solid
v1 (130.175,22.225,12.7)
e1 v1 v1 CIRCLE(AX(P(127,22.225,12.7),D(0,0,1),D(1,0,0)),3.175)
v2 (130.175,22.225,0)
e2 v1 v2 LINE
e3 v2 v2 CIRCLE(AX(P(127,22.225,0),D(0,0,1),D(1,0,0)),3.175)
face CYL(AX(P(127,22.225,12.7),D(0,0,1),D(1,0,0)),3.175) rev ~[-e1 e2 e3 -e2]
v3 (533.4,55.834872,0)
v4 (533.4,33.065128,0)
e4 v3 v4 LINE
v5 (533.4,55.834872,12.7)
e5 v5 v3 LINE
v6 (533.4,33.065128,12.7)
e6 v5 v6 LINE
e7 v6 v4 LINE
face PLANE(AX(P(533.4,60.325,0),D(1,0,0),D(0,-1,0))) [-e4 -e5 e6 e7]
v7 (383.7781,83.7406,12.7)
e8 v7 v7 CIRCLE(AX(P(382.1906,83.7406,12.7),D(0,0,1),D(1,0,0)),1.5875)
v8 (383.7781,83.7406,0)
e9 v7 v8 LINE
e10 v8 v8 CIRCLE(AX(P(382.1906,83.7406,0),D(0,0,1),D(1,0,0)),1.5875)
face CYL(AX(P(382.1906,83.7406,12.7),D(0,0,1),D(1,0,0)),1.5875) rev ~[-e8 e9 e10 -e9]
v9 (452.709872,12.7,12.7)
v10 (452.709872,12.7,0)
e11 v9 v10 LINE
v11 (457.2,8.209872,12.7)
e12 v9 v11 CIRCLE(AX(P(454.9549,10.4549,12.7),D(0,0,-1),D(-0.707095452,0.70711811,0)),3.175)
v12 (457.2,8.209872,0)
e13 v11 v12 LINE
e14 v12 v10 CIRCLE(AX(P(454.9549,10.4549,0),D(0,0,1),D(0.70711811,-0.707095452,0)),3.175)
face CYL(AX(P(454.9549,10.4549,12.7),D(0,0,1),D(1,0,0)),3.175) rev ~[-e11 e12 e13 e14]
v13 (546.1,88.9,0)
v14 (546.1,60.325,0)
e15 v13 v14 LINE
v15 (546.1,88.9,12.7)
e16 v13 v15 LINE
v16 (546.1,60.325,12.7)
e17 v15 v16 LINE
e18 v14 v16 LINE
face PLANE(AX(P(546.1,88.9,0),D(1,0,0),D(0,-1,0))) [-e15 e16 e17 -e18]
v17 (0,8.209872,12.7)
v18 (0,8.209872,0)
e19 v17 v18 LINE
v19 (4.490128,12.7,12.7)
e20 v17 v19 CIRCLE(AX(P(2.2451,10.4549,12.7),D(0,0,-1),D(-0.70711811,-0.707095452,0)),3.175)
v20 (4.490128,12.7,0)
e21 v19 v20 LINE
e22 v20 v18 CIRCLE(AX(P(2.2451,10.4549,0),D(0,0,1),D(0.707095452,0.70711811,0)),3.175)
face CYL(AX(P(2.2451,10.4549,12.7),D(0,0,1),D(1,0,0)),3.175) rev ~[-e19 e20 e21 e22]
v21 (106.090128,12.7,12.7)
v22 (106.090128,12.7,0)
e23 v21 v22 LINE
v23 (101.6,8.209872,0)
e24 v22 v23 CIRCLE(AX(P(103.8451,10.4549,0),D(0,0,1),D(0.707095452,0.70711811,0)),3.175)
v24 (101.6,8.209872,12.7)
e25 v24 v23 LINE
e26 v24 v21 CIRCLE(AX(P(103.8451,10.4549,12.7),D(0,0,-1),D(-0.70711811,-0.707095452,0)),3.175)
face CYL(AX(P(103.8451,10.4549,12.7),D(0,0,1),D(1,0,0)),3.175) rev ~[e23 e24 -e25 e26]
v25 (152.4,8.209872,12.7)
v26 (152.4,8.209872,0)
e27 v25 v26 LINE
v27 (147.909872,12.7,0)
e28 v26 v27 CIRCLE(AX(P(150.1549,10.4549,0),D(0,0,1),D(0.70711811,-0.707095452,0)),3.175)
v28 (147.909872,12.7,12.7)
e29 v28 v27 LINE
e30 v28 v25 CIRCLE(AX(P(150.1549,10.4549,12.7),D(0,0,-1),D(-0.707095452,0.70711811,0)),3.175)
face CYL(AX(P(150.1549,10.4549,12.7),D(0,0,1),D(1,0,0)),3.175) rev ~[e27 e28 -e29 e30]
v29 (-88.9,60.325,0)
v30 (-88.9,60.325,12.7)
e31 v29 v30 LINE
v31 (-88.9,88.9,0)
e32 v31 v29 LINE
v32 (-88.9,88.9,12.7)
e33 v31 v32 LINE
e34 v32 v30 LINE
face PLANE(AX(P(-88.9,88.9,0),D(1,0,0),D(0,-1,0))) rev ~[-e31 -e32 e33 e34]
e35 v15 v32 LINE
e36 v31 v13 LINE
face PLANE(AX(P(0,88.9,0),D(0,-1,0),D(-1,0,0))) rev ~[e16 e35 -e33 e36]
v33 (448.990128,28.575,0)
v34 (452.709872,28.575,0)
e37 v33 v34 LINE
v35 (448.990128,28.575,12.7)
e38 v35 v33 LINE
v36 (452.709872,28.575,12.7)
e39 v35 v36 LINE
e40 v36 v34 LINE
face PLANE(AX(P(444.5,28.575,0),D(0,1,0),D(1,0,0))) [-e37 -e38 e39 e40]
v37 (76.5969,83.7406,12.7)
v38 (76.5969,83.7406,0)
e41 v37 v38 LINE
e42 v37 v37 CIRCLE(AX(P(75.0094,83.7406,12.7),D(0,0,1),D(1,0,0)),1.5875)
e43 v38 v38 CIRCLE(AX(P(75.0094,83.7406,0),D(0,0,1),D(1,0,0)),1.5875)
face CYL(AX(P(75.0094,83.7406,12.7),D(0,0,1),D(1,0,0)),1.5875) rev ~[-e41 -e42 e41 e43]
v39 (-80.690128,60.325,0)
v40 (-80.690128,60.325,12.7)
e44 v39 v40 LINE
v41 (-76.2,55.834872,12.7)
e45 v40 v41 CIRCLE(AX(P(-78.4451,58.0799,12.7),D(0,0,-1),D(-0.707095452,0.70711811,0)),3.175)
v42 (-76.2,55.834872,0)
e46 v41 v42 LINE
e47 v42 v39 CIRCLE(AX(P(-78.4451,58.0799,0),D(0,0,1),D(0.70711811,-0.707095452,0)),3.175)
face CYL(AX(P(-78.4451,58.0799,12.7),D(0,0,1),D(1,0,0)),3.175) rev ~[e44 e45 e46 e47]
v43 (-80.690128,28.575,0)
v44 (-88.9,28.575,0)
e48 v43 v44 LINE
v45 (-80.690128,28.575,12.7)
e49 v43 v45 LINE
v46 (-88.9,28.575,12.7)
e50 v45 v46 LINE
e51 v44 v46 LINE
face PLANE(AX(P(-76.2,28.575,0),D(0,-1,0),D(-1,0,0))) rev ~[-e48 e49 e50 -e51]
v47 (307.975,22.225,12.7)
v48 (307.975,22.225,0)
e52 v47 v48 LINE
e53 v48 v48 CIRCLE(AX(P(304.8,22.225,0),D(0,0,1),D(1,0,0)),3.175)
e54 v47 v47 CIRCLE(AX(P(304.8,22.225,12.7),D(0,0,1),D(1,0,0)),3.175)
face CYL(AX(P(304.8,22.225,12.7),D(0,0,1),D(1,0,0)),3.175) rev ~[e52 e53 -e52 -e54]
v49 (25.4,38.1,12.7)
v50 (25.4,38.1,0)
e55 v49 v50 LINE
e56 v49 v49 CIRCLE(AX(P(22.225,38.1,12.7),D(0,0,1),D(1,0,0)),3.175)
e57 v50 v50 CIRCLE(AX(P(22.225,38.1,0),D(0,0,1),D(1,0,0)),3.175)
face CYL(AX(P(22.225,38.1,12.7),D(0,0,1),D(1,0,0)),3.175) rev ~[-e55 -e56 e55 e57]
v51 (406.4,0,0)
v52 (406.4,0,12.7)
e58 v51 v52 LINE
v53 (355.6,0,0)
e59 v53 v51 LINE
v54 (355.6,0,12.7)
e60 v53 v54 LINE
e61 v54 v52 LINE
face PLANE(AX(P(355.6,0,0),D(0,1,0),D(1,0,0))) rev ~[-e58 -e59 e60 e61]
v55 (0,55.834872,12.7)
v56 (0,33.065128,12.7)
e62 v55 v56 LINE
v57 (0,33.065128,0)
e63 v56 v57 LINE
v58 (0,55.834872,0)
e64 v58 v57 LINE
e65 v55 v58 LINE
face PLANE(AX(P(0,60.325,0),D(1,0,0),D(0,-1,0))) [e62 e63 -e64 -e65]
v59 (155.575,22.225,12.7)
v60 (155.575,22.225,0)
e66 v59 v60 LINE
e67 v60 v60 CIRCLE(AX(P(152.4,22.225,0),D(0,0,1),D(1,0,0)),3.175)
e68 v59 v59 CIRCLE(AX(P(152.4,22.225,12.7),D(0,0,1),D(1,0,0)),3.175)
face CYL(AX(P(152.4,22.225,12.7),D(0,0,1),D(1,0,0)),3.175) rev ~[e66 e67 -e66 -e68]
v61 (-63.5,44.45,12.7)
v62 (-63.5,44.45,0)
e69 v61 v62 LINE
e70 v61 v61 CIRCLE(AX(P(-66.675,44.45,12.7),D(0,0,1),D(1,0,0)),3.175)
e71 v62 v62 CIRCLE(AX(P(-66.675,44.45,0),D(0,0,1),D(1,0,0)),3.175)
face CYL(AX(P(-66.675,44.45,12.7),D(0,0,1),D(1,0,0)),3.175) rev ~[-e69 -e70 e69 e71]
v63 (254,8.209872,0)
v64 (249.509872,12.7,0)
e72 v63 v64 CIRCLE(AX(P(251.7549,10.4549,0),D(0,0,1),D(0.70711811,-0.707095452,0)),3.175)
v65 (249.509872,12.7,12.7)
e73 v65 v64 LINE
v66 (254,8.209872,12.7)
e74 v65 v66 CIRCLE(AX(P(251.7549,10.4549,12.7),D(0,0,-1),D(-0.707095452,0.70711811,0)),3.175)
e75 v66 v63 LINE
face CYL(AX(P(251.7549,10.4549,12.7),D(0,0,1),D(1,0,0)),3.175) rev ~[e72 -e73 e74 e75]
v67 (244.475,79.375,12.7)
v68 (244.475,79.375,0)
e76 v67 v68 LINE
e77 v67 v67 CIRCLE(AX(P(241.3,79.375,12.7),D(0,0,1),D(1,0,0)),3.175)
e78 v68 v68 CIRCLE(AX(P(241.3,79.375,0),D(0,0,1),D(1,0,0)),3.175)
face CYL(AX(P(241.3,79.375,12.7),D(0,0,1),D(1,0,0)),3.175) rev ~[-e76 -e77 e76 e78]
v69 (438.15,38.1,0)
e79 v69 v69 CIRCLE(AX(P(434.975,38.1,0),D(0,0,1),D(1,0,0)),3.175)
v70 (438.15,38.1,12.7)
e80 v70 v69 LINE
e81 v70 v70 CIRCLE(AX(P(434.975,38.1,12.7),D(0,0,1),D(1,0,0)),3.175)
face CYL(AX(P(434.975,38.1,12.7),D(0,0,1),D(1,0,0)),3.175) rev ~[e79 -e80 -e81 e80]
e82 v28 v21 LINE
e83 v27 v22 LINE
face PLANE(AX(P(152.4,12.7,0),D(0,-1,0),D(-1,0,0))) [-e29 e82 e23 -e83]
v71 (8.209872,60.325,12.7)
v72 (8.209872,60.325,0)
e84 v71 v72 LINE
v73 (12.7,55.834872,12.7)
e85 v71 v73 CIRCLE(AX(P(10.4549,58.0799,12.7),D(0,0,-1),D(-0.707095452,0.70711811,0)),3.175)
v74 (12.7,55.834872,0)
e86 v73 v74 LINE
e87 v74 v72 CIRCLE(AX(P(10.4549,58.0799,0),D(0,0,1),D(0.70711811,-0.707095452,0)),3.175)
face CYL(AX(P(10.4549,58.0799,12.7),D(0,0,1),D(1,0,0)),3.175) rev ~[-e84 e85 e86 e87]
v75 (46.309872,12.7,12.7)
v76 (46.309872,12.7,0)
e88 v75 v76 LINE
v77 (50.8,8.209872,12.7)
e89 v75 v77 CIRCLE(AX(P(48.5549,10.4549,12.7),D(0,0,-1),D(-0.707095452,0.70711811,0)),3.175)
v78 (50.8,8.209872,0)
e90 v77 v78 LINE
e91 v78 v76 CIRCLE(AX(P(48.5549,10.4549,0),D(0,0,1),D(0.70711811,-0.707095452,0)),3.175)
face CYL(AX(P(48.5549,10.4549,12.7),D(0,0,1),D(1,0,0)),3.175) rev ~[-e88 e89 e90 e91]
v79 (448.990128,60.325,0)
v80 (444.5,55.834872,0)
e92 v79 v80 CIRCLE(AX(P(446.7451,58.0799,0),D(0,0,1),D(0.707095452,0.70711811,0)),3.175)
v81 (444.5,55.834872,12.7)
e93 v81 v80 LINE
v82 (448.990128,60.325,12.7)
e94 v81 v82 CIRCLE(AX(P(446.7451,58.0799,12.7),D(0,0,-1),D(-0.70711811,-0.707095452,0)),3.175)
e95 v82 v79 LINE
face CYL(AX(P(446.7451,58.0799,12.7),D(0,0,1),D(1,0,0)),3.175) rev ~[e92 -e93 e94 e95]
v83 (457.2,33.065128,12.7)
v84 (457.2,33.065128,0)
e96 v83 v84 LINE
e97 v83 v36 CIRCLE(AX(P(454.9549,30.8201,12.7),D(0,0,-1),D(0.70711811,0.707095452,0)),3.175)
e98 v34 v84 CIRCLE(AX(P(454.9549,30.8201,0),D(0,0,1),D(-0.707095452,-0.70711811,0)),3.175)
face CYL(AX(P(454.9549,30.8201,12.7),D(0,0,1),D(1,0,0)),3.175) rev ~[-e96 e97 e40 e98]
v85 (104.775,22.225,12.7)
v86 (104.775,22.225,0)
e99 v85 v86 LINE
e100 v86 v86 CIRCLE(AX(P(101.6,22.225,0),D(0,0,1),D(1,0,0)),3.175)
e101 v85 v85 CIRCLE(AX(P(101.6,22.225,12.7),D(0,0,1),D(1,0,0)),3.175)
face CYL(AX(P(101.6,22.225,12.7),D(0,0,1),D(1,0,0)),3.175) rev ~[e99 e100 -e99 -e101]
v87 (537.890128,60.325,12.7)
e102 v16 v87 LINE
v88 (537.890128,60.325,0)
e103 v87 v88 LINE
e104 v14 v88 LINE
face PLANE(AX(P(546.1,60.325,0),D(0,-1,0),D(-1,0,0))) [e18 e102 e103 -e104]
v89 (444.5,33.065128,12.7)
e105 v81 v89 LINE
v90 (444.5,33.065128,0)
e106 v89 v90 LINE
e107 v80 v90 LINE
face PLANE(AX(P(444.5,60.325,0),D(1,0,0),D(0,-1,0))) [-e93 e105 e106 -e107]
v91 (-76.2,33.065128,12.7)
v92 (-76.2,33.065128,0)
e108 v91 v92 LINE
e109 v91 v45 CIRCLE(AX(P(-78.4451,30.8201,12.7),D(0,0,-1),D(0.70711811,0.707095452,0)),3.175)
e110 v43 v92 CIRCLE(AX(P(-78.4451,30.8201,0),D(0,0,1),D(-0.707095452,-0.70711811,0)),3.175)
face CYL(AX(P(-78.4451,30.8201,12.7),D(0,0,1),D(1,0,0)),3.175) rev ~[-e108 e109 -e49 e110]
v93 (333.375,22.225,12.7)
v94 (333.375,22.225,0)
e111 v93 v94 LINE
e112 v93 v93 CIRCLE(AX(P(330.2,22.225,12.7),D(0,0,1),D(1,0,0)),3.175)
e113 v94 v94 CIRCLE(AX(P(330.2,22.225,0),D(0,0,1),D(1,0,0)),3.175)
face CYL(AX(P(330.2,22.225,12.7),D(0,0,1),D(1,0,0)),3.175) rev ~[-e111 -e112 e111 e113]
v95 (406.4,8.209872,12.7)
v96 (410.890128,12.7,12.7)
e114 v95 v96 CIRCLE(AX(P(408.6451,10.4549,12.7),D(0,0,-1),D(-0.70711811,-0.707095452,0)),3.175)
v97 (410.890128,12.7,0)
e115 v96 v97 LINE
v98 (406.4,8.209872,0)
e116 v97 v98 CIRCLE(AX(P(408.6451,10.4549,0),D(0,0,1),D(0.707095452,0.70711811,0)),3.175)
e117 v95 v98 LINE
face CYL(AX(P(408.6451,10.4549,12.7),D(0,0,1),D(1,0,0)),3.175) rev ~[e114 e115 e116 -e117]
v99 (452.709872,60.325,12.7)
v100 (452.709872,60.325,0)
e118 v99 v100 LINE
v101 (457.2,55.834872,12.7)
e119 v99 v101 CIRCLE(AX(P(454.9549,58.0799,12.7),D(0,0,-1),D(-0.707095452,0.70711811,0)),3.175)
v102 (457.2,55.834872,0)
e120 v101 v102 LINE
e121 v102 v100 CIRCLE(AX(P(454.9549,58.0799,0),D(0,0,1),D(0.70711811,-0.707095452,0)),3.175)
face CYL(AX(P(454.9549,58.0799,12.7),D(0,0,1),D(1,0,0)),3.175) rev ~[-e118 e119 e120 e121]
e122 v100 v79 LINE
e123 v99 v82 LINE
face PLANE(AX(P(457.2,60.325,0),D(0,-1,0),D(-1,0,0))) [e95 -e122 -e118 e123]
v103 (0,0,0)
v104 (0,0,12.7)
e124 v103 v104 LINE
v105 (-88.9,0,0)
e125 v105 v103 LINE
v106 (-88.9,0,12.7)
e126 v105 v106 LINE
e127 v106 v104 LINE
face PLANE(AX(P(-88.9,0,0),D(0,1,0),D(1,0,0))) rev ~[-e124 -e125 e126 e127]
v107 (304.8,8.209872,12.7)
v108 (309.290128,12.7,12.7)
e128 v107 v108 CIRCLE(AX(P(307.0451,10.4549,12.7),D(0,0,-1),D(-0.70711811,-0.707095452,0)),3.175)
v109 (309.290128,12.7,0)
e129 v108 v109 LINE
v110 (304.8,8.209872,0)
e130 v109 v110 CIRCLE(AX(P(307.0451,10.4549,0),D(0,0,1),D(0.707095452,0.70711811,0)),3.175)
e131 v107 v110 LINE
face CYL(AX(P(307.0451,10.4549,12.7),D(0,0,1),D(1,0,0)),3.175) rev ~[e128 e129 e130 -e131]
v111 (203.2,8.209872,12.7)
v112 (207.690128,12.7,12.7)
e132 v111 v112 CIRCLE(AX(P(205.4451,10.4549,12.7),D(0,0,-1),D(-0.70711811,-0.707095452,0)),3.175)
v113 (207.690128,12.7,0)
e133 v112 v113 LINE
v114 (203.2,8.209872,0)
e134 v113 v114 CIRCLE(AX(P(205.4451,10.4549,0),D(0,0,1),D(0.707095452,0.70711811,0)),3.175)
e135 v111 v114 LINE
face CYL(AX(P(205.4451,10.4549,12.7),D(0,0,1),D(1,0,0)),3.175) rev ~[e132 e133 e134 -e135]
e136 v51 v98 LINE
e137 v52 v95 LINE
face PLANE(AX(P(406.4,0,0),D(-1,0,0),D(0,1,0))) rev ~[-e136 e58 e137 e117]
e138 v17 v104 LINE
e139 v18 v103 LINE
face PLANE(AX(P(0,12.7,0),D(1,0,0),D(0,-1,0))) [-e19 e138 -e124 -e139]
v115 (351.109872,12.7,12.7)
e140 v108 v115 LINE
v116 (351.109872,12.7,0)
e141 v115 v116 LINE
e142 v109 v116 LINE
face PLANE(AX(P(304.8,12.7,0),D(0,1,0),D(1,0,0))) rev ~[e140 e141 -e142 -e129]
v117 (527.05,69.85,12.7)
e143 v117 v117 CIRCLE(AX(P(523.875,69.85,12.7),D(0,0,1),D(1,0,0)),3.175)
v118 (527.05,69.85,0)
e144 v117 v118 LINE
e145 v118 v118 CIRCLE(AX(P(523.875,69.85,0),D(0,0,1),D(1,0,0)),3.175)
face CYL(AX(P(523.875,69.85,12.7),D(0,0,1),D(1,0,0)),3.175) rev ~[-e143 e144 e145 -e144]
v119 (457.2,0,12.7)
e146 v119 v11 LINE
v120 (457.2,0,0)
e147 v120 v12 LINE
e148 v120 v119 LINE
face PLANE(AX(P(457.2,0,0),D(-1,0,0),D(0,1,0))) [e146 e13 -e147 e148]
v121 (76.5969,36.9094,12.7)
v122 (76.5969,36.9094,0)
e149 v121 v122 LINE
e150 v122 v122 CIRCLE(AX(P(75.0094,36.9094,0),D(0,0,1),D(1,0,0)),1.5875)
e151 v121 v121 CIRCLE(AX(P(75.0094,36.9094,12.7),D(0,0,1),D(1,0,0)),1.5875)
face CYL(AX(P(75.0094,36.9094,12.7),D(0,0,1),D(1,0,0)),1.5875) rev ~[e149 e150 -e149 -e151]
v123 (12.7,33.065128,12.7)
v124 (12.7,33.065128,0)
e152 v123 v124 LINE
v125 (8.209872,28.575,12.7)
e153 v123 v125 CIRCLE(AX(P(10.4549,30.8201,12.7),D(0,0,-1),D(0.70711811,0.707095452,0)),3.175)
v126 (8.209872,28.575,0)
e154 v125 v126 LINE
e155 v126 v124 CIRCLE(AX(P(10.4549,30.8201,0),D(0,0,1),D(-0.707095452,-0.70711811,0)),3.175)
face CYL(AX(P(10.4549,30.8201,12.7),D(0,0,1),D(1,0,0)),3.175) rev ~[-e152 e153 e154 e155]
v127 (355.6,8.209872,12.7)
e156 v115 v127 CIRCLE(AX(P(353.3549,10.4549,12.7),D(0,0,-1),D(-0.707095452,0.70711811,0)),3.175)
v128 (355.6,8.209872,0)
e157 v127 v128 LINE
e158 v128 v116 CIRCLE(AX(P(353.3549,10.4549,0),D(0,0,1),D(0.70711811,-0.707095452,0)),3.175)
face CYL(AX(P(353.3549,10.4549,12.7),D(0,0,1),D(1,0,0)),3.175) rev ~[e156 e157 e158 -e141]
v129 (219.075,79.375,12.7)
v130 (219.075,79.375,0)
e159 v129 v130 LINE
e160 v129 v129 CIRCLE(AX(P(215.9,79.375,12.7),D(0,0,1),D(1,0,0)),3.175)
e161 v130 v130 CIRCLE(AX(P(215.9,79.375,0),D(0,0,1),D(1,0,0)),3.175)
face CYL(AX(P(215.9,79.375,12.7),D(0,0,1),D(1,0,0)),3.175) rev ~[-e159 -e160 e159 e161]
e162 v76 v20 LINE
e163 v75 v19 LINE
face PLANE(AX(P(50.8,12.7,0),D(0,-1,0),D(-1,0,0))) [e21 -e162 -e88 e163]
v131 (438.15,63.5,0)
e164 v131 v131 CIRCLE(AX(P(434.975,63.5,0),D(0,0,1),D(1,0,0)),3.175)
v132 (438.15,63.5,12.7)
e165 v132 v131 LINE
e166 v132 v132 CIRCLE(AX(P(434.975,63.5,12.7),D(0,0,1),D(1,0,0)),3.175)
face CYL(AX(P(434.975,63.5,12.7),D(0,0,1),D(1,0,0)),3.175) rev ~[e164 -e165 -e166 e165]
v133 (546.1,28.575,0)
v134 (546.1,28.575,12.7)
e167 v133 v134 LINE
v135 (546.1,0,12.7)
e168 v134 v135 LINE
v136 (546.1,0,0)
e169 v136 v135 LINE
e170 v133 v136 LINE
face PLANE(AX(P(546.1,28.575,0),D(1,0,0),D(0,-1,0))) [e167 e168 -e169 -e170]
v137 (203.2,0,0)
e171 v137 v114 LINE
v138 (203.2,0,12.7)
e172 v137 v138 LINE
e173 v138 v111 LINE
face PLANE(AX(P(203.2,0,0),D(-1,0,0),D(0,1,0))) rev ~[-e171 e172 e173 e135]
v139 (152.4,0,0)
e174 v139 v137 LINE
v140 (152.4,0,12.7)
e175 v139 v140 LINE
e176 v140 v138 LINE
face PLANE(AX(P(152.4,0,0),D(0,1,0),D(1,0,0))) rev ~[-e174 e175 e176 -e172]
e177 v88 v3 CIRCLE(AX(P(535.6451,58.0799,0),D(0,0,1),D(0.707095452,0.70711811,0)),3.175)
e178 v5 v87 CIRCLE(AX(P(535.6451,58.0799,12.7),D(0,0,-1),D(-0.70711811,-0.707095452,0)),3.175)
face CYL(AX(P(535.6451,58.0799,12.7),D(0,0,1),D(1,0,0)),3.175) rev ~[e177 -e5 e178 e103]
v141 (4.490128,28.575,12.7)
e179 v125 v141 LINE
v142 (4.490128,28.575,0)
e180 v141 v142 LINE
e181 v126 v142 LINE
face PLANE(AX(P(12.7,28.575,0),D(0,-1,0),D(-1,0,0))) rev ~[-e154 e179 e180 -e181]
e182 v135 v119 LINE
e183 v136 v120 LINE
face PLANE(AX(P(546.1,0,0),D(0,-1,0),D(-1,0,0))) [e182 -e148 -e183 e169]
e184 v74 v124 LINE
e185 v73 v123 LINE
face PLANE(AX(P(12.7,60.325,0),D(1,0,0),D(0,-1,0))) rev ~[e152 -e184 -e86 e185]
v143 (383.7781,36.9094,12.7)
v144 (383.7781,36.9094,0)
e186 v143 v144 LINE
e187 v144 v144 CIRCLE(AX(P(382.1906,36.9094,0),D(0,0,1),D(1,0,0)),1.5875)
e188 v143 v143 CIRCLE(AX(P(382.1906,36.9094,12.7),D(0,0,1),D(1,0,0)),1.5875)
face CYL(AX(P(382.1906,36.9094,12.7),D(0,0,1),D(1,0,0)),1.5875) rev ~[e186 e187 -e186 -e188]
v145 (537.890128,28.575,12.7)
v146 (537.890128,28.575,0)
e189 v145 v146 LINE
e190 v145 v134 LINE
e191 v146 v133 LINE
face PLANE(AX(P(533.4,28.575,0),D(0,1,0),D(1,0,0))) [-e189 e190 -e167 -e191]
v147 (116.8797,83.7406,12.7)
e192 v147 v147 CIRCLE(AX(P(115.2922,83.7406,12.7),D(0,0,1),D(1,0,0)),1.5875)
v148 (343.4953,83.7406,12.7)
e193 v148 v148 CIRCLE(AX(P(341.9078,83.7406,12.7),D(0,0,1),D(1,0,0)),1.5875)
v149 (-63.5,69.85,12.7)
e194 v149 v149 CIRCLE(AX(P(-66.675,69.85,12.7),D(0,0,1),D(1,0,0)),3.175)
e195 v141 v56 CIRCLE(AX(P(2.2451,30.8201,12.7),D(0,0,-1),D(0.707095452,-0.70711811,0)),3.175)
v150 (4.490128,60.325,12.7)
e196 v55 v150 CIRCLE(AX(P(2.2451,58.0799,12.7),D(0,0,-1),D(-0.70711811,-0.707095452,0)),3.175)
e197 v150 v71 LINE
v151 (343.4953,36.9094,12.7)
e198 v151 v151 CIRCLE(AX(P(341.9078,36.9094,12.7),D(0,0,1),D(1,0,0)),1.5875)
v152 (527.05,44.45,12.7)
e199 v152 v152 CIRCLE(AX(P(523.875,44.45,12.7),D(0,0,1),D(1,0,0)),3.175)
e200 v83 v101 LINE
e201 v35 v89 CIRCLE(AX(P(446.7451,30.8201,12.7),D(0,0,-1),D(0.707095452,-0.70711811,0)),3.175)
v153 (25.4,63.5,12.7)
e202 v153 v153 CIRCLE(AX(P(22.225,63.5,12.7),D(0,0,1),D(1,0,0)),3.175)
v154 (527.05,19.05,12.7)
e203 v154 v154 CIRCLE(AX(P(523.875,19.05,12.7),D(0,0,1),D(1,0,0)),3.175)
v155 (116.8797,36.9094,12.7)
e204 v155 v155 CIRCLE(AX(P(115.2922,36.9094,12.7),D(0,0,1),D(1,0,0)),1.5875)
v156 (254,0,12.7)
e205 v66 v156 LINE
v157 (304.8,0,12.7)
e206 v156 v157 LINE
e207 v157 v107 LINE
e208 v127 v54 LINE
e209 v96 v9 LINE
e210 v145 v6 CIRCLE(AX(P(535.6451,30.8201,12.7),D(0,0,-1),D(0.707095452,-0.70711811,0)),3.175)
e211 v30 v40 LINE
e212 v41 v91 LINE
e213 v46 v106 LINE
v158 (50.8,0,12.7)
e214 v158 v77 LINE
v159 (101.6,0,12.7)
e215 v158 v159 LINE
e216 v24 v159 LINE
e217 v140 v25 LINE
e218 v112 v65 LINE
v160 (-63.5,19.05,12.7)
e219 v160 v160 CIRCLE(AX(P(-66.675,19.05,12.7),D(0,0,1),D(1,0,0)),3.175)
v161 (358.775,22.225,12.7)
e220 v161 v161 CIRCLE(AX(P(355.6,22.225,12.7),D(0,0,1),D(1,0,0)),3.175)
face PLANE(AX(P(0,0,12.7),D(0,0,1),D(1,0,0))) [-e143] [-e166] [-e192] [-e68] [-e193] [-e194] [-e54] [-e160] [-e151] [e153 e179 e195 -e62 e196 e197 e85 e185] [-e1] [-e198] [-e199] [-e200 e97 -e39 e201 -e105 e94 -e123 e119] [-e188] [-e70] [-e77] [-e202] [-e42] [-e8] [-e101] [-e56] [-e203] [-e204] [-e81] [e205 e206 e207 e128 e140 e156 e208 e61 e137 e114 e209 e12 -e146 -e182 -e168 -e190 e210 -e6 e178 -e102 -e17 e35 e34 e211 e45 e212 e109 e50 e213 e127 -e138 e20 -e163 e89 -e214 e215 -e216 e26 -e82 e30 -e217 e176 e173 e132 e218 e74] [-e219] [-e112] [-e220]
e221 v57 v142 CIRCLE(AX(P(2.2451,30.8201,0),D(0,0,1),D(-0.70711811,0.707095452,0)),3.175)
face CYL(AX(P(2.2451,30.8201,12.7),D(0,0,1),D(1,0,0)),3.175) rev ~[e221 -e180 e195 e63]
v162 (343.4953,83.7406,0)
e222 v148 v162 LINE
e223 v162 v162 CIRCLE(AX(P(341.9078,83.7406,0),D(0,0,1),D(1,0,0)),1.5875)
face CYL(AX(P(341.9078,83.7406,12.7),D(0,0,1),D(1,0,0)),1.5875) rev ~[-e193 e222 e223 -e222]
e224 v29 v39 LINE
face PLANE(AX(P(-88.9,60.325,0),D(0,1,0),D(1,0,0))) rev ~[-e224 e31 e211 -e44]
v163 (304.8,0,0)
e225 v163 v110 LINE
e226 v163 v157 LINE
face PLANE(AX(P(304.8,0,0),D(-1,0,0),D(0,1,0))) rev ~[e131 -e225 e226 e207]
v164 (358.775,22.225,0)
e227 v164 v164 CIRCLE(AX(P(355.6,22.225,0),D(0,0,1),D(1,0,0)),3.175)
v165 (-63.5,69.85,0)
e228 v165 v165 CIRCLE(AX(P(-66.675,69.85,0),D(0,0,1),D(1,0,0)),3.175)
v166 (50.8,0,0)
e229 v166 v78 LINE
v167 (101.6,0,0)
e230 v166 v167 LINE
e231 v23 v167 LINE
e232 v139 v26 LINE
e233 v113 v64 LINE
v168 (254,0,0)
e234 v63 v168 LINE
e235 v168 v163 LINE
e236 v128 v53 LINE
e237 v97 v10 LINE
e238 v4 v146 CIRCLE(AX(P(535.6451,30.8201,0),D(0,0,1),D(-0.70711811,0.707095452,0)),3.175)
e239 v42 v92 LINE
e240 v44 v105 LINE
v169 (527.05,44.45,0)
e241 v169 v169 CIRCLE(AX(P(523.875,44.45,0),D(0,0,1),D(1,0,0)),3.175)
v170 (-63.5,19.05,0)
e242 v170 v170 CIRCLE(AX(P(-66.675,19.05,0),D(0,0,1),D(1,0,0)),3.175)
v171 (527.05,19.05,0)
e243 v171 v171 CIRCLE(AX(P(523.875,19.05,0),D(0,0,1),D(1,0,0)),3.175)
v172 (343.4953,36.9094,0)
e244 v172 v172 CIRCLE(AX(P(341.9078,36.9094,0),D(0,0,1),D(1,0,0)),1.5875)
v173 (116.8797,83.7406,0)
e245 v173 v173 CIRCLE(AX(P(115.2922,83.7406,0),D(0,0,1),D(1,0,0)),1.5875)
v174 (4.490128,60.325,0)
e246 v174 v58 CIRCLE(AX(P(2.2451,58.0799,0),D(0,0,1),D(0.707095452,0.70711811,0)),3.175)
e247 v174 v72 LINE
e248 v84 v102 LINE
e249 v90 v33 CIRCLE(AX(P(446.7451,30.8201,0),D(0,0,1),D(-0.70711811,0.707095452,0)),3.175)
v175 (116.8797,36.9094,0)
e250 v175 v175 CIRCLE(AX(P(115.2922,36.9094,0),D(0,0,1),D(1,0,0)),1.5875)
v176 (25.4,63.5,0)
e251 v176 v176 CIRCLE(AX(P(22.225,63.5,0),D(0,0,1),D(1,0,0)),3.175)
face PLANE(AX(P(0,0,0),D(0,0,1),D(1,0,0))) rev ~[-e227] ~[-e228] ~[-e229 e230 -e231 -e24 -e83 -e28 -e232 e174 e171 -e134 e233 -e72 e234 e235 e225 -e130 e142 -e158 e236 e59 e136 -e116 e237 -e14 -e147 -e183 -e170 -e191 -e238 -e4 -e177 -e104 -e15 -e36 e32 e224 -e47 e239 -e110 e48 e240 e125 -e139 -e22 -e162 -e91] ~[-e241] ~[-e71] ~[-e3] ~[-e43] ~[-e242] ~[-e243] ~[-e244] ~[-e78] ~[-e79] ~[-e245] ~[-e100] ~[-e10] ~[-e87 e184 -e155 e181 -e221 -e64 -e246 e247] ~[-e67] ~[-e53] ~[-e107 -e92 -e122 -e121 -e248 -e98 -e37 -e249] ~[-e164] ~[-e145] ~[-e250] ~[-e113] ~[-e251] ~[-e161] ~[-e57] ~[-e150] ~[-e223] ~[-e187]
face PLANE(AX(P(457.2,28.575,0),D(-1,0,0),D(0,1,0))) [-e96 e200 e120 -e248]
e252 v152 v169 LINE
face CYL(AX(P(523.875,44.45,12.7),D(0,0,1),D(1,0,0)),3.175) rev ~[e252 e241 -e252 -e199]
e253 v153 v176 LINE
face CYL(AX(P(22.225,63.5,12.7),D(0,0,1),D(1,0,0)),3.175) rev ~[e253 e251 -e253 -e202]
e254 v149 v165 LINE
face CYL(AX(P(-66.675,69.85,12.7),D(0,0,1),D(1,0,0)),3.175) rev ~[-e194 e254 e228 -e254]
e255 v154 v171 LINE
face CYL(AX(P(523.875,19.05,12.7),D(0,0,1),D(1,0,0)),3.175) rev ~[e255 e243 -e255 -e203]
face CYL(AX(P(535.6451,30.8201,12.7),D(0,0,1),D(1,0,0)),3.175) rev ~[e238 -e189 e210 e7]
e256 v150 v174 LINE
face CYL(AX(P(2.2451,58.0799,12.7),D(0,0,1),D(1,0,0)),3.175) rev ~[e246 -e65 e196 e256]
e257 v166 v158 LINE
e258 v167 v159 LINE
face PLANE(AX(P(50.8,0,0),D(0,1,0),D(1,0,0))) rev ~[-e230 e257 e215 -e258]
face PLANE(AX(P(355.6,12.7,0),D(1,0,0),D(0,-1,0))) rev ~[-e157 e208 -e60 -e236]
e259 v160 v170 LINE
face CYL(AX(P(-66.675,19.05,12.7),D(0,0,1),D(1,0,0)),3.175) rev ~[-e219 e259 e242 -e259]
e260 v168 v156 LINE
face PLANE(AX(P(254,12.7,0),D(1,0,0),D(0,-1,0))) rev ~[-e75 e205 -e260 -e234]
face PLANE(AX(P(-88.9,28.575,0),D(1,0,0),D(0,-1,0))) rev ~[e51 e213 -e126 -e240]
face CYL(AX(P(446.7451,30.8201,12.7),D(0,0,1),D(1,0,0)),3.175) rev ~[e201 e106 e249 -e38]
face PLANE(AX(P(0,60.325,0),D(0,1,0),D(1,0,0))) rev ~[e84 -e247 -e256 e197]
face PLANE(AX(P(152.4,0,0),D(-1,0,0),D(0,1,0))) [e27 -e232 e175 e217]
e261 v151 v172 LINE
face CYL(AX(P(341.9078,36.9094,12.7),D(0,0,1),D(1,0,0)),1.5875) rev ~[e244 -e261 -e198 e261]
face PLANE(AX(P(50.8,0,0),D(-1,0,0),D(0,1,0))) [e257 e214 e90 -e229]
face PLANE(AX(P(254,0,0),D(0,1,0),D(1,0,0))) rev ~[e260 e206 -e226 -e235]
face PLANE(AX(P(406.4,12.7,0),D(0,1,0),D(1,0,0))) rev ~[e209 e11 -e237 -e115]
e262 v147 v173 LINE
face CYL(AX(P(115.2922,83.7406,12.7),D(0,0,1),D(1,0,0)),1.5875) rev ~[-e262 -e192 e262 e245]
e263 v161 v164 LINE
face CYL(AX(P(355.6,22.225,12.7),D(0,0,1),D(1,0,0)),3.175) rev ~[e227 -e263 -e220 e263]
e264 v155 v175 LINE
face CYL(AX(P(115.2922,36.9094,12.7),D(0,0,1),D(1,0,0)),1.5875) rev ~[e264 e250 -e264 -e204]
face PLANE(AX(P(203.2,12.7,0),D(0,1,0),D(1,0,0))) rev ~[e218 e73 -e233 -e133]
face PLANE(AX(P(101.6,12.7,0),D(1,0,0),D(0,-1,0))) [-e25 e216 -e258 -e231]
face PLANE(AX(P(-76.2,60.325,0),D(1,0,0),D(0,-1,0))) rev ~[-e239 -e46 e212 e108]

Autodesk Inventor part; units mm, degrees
ref_plane "YZ Plane" through (0, 0, 0) normal (1, 0, 0) x (0, 1, 0)
ref_plane "XZ Plane" through (0, 0, 0) normal (0, 1, 0) x (-1, 0, 0)
ref_plane "XY Plane" through (0, 0, 0) normal (0, 0, 1) x (1, 0, 0)
sketch "Sketch1" plane through (0, 0, 0) normal (0, 0, 1) x (1, 0, 0)
  line L0 (0, 0) -> (457.2, 0)
  line L1 (457.2, 0) -> (457.2, 88.9)
  line L2 (457.2, 88.9) -> (0, 88.9)
  line L3 (0, 88.9) -> (0, 0)
  line L4 (0, 0) -> (50.8, 0)
  line L5 (50.8, 0) -> (50.8, 12.7)
  line L6 (50.8, 12.7) -> (0, 12.7)
  line L7 (0, 12.7) -> (0, 0)
  line L8 (457.2, 0) -> (406.4, 0)
  line L9 (406.4, 0) -> (406.4, 12.7)
  line L10 (406.4, 12.7) -> (457.2, 12.7)
  line L11 (457.2, 12.7) -> (457.2, 0)
  line L12 (101.6, 0) -> (152.4, 0)
  line L13 (152.4, 0) -> (152.4, 12.7)
  line L14 (152.4, 12.7) -> (101.6, 12.7)
  line L15 (101.6, 12.7) -> (101.6, 0)
  line L16 (355.6, 0) -> (304.8, 0)
  line L17 (304.8, 0) -> (304.8, 12.7)
  line L18 (304.8, 12.7) -> (355.6, 12.7)
  line L19 (355.6, 12.7) -> (355.6, 0)
  line L20 (254, 0) -> (203.2, 0)
  line L21 (203.2, 0) -> (203.2, 12.7)
  line L22 (203.2, 12.7) -> (254, 12.7)
  line L23 (254, 12.7) -> (254, 0)
  line L24 (0, 60.325) -> (12.7, 60.325)
  line L25 (12.7, 60.325) -> (12.7, 28.575)
  line L26 (12.7, 28.575) -> (0, 28.575)
  line L27 (0, 28.575) -> (0, 60.325)
  line L28 (457.2, 60.325) -> (444.5, 60.325)
  line L29 (444.5, 60.325) -> (444.5, 28.575)
  line L30 (444.5, 28.575) -> (457.2, 28.575)
  line L31 (457.2, 28.575) -> (457.2, 60.325)
  line L32 (0, 88.9) -> (-88.9, 88.9)
  line L33 (-88.9, 88.9) -> (-88.9, 0)
  line L34 (-88.9, 0) -> (0, 0)
  line L35 (0, 0) -> (0, 88.9)
  line L36 (-88.9, 60.325) -> (-76.2, 60.325)
  line L37 (-76.2, 60.325) -> (-76.2, 28.575)
  line L38 (-76.2, 28.575) -> (-88.9, 28.575)
  line L39 (-88.9, 28.575) -> (-88.9, 60.325)
  line L40 (457.2, 88.9) -> (546.1, 88.9)
  line L41 (546.1, 88.9) -> (546.1, 0)
  line L42 (546.1, 0) -> (457.2, 0)
  line L43 (457.2, 0) -> (457.2, 88.9)
  line L44 (546.1, 60.325) -> (533.4, 60.325)
  line L45 (533.4, 60.325) -> (533.4, 28.575)
  line L46 (533.4, 28.575) -> (546.1, 28.575)
  line L47 (546.1, 28.575) -> (546.1, 60.325)
  point P0 (0, 28.575)
  dimension "d0" = 457.2
  dimension "d1" = 88.9
  dimension "d2" = 50.8
  dimension "d3" = 12.7
  dimension "d4" = 50.8
  dimension "d5" = 12.7
  dimension "d6" = 50.8
  dimension "d7" = 12.7
  dimension "d8" = 50.8
  dimension "d9" = 50.8
  dimension "d10" = 12.7
  dimension "d11" = 50.8
  dimension "d12" = 50.8
  dimension "d13" = 12.7
  dimension "d14" = 50.8
  dimension "d15" = 12.7
  dimension "d16" = 15.875
  dimension "d17" = 28.575
  dimension "d18" = 12.7
  dimension "d19" = 28.575
  dimension "d20" = 15.875
  dimension "d21" = 88.9
  dimension "d22" = 12.7
  dimension "d23" = 28.575
  dimension "d24" = 31.75
  dimension "d25" = 88.9
  dimension "d26" = 12.7
  dimension "d27" = 28.575
  dimension "d28" = 31.75
extrude "Extrusion1" add sketch "Sketch1" along normal blind 12.7 contours L34 L33 L38 L37 L36 L32 L3 | L5 L6 L3 L26 L25 L24 L2 L1 L28 L29 L30 L10 L9 L0 L19 L18 L17 L23 L22 L21 L13 L14 L15 | L40 L41 L44 L45 L46 L42 L1
sketch "Sketch2" plane through (0, 0, 12.7) normal (0, 0, 1) x (1, 0, 0)
  line L0 (-76.2, 60.325) -> (-76.2, 28.575) projected
  line L1 (-76.2, 60.325) -> (-78.4451, 58.0799)
  line L2 (-76.2, 28.575) -> (-78.4451, 30.8201)
  line L3 (0, 28.575) -> (0, 60.325) projected
  line L4 (0, 60.325) -> (2.2451, 58.0799)
  line L5 (0, 60.325) -> (12.7, 60.325) projected
  line L6 (12.7, 60.325) -> (10.4549, 58.0799)
  line L7 (12.7, 60.325) -> (12.7, 28.575) projected
  line L8 (12.7, 28.575) -> (0, 28.575) projected
  line L9 (0, 28.575) -> (2.2451, 30.8201)
  line L10 (12.7, 60.325) -> (12.7, 28.575) projected
  line L11 (12.7, 28.575) -> (10.4549, 30.8201)
  line L12 (0, 0) -> (0, 12.7) projected
  line L13 (0, 12.7) -> (2.2451, 10.4549)
  line L14 (0, 12.7) -> (50.8, 12.7) projected
  line L15 (50.8, 12.7) -> (50.8, 0) projected
  line L16 (50.8, 12.7) -> (48.5549, 10.4549)
  line L17 (101.6, 0) -> (101.6, 12.7) projected
  line L18 (101.6, 12.7) -> (103.8451, 10.4549)
  line L19 (101.6, 12.7) -> (152.4, 12.7) projected
  line L20 (152.4, 12.7) -> (152.4, 0) projected
  line L21 (152.4, 12.7) -> (150.1549, 10.4549)
  line L22 (203.2, 0) -> (203.2, 12.7) projected
  line L23 (203.2, 12.7) -> (205.4451, 10.4549)
  line L24 (203.2, 12.7) -> (254, 12.7) projected
  line L25 (254, 12.7) -> (254, 0) projected
  line L26 (254, 12.7) -> (251.7549, 10.4549)
  line L27 (304.8, 0) -> (304.8, 12.7) projected
  line L28 (304.8, 12.7) -> (307.0451, 10.4549)
  line L29 (304.8, 12.7) -> (355.6, 12.7) projected
  line L30 (355.6, 12.7) -> (355.6, 0) projected
  line L31 (355.6, 12.7) -> (353.3549, 10.4549)
  line L32 (406.4, 0) -> (406.4, 12.7) projected
  line L33 (406.4, 12.7) -> (408.6451, 10.4549)
  line L34 (406.4, 12.7) -> (457.2, 12.7) projected
  line L35 (457.2, 12.7) -> (454.9549, 10.4549)
  line L36 (457.2, 12.7) -> (457.2, 0) projected
  line L37 (444.5, 28.575) -> (444.5, 60.325) projected
  line L38 (444.5, 60.325) -> (446.7451, 58.0799)
  line L39 (444.5, 60.325) -> (457.2, 60.325) projected
  line L40 (457.2, 60.325) -> (457.2, 28.575) projected
  line L41 (457.2, 60.325) -> (454.9549, 58.0799)
  line L42 (444.5, 28.575) -> (446.7451, 30.8201)
  line L43 (457.2, 28.575) -> (444.5, 28.575) projected
  line L44 (457.2, 28.575) -> (454.9549, 30.8201)
  line L45 (533.4, 28.575) -> (533.4, 60.325) projected
  line L46 (533.4, 60.325) -> (535.6451, 58.0799)
  line L47 (533.4, 60.325) -> (546.1, 60.325) projected
  line L48 (546.1, 28.575) -> (533.4, 28.575) projected
  line L49 (533.4, 28.575) -> (535.6451, 30.8201)
  circle A0 centre (-78.4451, 58.0799) radius 3.175
  circle A1 centre (-78.4451, 30.8201) radius 3.175
  circle A2 centre (2.2451, 58.0799) radius 3.175
  circle A3 centre (10.4549, 58.0799) radius 3.175
  circle A4 centre (2.2451, 30.8201) radius 3.175
  circle A5 centre (10.4549, 30.8201) radius 3.175
  circle A6 centre (2.2451, 10.4549) radius 3.175
  circle A7 centre (48.5549, 10.4549) radius 3.175
  circle A8 centre (103.8451, 10.4549) radius 3.175
  circle A9 centre (150.1549, 10.4549) radius 3.175
  circle A10 centre (205.4451, 10.4549) radius 3.175
  circle A11 centre (251.7549, 10.4549) radius 3.175
  circle A12 centre (307.0451, 10.4549) radius 3.175
  circle A13 centre (353.3549, 10.4549) radius 3.175
  circle A14 centre (408.6451, 10.4549) radius 3.175
  circle A15 centre (454.9549, 10.4549) radius 3.175
  circle A16 centre (446.7451, 30.8201) radius 3.175
  circle A17 centre (454.9549, 30.8201) radius 3.175
  circle A18 centre (454.9549, 58.0799) radius 3.175
  circle A19 centre (446.7451, 58.0799) radius 3.175
  circle A20 centre (535.6451, 58.0799) radius 3.175
  circle A21 centre (535.6451, 30.8201) radius 3.175
  dimension "d31" = 3.175
  dimension "d32" = 45
  dimension "d33" = 3.175
  dimension "d34" = 45
  dimension "d35" = 3.175
  dimension "d36" = 45
  dimension "d37" = 3.175
  dimension "d38" = 45
  dimension "d39" = 3.175
  dimension "d40" = 45
  dimension "d41" = 3.175
  dimension "d42" = 45
  dimension "d43" = 3.175
  dimension "d44" = 45
  dimension "d45" = 3.175
  dimension "d46" = 45
  dimension "d47" = 3.175
  dimension "d48" = 45
  dimension "d49" = 3.175
  dimension "d50" = 45
  dimension "d51" = 3.175
  dimension "d52" = 45
  dimension "d53" = 3.175
  dimension "d54" = 45
  dimension "d55" = 3.175
  dimension "d56" = 45
  dimension "d57" = 3.175
  dimension "d58" = 45
  dimension "d59" = 3.175
  dimension "d60" = 45
  dimension "d61" = 3.175
  dimension "d62" = 45
  dimension "d63" = 3.175
  dimension "d64" = 45
  dimension "d65" = 3.175
  dimension "d66" = 45
  dimension "d67" = 3.175
  dimension "d68" = 45
  dimension "d69" = 3.175
  dimension "d70" = 45
  dimension "d71" = 3.175
  dimension "d72" = 45
  dimension "d73" = 3.175
  dimension "d74" = 45
  dimension "d75" = 6.35
  dimension "d76" = 6.35
  dimension "d77" = 6.35
  dimension "d78" = 6.35
  dimension "d79" = 6.35
  dimension "d80" = 6.35
  dimension "d81" = 6.35
  dimension "d82" = 6.35
  dimension "d83" = 6.35
  dimension "d84" = 6.35
  dimension "d85" = 6.35
  dimension "d86" = 6.35
  dimension "d87" = 6.35
  dimension "d88" = 6.35
  dimension "d89" = 6.35
  dimension "d90" = 6.35
  dimension "d91" = 6.35
  dimension "d92" = 6.35
  dimension "d93" = 6.35
  dimension "d94" = 6.35
extrude "Extrusion2" cut sketch "Sketch2" against normal blind 12.7 contours A0 L0 | A1 L0 | L0 A1 | L0 A0 | A4 L3 | L3 A4 L8 | L8 A4 | A2 L3 | L3 L5 A2 | A5 L7 L8 | L8 A5 | A2 L5 | L7 A5 | A3 L5 L7 | L7 A3 | A3 L5 | A6 L12 | A7 L14 | L14 L15 A7 | L12 L14 A6 | A6 L14 | A7 L15 | A8 L17 | A9 L19 | L19 L20 A9 | L17 L19 A8 | A8 L19 | A9 L20 | A10 L22 | A11 L24 | L24 L25 A11 | L22 L24 A10 | A10 L24 | A11 L25 | A12 L27 | A13 L29 | L29 L30 A13 | L27 L29 A12 | A12 L29 | A13 L30 | A14 L32 | A15 L34 | L34 L36 A15 | L32 L34 A14 | A14 L34 | A15 L36 | A16 L37 | L37 A16 L43 | L43 A16 | A19 L37 | L37 L39 A19 | A17 L40 L43 | L43 A17 | A19 L39 | L40 A17 | A18 L39 L40 | L40 A18 | A18 L39 | A21 L45 | L45 A21 L48 | A20 L45 | L45 L47 A20 | L48 A21 | A20 L47
sketch "Sketch3" plane through (0, 0, 12.7) normal (0, 0, 1) x (1, 0, 0)
  circle A0 centre (127, 22.225) radius 3.175
  line L0 (106.0901, 12.7) -> (147.9099, 12.7) projected
  line L1 (101.6, 0) -> (101.6, 8.2099) projected
  circle A1 centre (101.6, 22.225) radius 3.175
  circle A2 centre (152.4, 22.225) radius 3.175
  circle A3 centre (330.2, 22.225) radius 3.175
  line L2 (309.2901, 12.7) -> (351.1099, 12.7) projected
  line L3 (355.6, 8.2099) -> (355.6, 0) projected
  circle A4 centre (304.8, 22.225) radius 3.175
  circle A5 centre (355.6, 22.225) radius 3.175
  circle A6 centre (22.225, 38.1) radius 3.175
  line L4 (4.4901, 12.7) -> (46.3099, 12.7) projected
  line L5 (12.7, 55.8349) -> (12.7, 33.0651) projected
  circle A7 centre (22.225, 63.5) radius 3.175
  circle A8 centre (434.975, 38.1) radius 3.175
  line L6 (444.5, 33.0651) -> (444.5, 55.8349) projected
  line L7 (410.8901, 12.7) -> (452.7099, 12.7) projected
  circle A9 centre (434.975, 63.5) radius 3.175
  circle A10 centre (-66.675, 44.45) radius 3.175
  line L8 (546.1, 88.9) -> (-88.9, 88.9) projected
  line L9 (-76.2, 55.8349) -> (-76.2, 33.0651) projected
  circle A11 centre (-66.675, 69.85) radius 3.175
  circle A12 centre (-66.675, 19.05) radius 3.175
  circle A13 centre (523.875, 44.45) radius 3.175
  line L10 (533.4, 33.0651) -> (533.4, 55.8349) projected
  circle A14 centre (523.875, 69.85) radius 3.175
  circle A15 centre (523.875, 19.05) radius 3.175
  point P0 (0, 0)
  dimension "d99" = 6.35
  dimension "d100" = 9.525
  dimension "d101" = 25.4
  dimension "d102" = 6.35
  dimension "d103" = 9.525
  dimension "d104" = 25.4
  dimension "d105" = 6.35
  dimension "d106" = 25.4
  dimension "d107" = 9.525
  dimension "d108" = 6.35
  dimension "d109" = 9.525
  dimension "d110" = 25.4
  dimension "d111" = 6.35
  dimension "d112" = 9.525
  dimension "d113" = 25.4
  dimension "d114" = 6.35
  dimension "d115" = 25.4
  dimension "d116" = 9.525
  dimension "d117" = 6.35
  dimension "d118" = 25.4
  dimension "d119" = 9.525
  dimension "d120" = 6.35
  dimension "d121" = 9.525
  dimension "d122" = 25.4
  dimension "d123" = 6.35
  dimension "d124" = 9.525
  dimension "d125" = 25.4
  dimension "d126" = 6.35
  dimension "d127" = 9.525
  dimension "d128" = 25.4
  dimension "d129" = 6.35
  dimension "d130" = 44.45
  dimension "d131" = 9.525
  dimension "d132" = 6.35
  dimension "d133" = 9.525
  dimension "d134" = 25.4
  dimension "d135" = 6.35
  dimension "d136" = 9.525
  dimension "d137" = 25.4
  dimension "d138" = 6.35
  dimension "d139" = 9.525
  dimension "d140" = 44.45
  dimension "d141" = 6.35
  dimension "d142" = 9.525
  dimension "d143" = 25.4
  dimension "d144" = 6.35
  dimension "d145" = 9.525
  dimension "d146" = 25.4
extrude "Extrusion3" cut sketch "Sketch3" against normal blind 12.7
sketch "Sketch6" plane through (0, 0, 12.7) normal (0, 0, 1) x (1, 0, 0)
  circle A0 centre (115.2922, 36.9094) radius 1.5875
  circle A1 centre (127, 22.225) radius 3.175 projected
  circle A2 centre (115.2922, 83.7406) radius 1.5875
  line L0 (88.9, 31.75) -> (165.1, 31.75)
  line L1 (165.1, 31.75) -> (165.1, 12.7)
  line L2 (165.1, 12.7) -> (88.9, 12.7)
  line L3 (88.9, 12.7) -> (88.9, 31.75)
  line L4 (88.9, 31.75) -> (165.1, 12.7) construction
  line L5 (165.1, 31.75) -> (88.9, 12.7) construction
  line L6 (546.1, 88.9) -> (-88.9, 88.9) projected
  line L7 (292.1, 31.75) -> (368.3, 31.75)
  line L8 (368.3, 31.75) -> (368.3, 12.7)
  line L9 (368.3, 12.7) -> (292.1, 12.7)
  line L10 (292.1, 12.7) -> (292.1, 31.75)
  circle A3 centre (330.2, 22.225) radius 3.175 projected
  line L11 (292.1, 31.75) -> (368.3, 12.7) construction
  line L12 (368.3, 31.75) -> (292.1, 12.7) construction
  circle A4 centre (341.9078, 36.9094) radius 1.5875
  circle A5 centre (341.9078, 83.7406) radius 1.5875
  circle A6 centre (75.0094, 83.7406) radius 1.5875
  circle A7 centre (75.0094, 36.9094) radius 1.5875
  circle A8 centre (382.1906, 36.9094) radius 1.5875
  circle A9 centre (382.1906, 83.7406) radius 1.5875
  point P0 (0, 0)
  dimension "d149" = 3.175
  dimension "d150" = 11.7078
  dimension "d151" = 3.175
  dimension "d152" = 46.8312
  dimension "d153" = 76.2
  dimension "d154" = 5.1594
  dimension "d155" = 5.1594
  dimension "d156" = 76.2
  dimension "d157" = 3.175
  dimension "d158" = 3.175
  dimension "d159" = 5.1594
  dimension "d160" = 11.7078
  dimension "d161" = 46.8312
  dimension "d162" = 5.1594
  dimension "d163" = 3.175
  dimension "d164" = 3.175
  dimension "d165" = 5.1594
  dimension "d166" = 40.2828
  dimension "d167" = 40.2828
  dimension "d168" = 46.8312
  dimension "d169" = 3.175
  dimension "d170" = 5.1594
  dimension "d171" = 40.2828
  dimension "d172" = 3.175
  dimension "d173" = 46.8312
  dimension "d174" = 40.2828
extrude "Extrusion4" cut sketch "Sketch6" against normal blind 12.7 contours A0 | A2 | A4 | A5 | A6 | A7 | A8 | A9
sketch "Sketch8" plane through (0, 0, 12.7) normal (0, 0, 1) x (1, 0, 0)
  circle A0 centre (215.9, 79.375) radius 3.175
  circle A1 centre (241.3, 79.375) radius 3.175
  line L0 (546.1, 88.9) -> (-88.9, 88.9) projected
  line L1 (203.2, 0) -> (203.2, 8.2099) projected
  point P0 (0, 0)
  dimension "d188" = 6.35
  dimension "d189" = 6.35
  dimension "d190" = 9.525
  dimension "d191" = 9.525
  dimension "d192" = 25.4
  dimension "d193" = 12.7
extrude "Extrusion6" cut sketch "Sketch8" against normal blind 12.7
properties part number "Back Wall"
